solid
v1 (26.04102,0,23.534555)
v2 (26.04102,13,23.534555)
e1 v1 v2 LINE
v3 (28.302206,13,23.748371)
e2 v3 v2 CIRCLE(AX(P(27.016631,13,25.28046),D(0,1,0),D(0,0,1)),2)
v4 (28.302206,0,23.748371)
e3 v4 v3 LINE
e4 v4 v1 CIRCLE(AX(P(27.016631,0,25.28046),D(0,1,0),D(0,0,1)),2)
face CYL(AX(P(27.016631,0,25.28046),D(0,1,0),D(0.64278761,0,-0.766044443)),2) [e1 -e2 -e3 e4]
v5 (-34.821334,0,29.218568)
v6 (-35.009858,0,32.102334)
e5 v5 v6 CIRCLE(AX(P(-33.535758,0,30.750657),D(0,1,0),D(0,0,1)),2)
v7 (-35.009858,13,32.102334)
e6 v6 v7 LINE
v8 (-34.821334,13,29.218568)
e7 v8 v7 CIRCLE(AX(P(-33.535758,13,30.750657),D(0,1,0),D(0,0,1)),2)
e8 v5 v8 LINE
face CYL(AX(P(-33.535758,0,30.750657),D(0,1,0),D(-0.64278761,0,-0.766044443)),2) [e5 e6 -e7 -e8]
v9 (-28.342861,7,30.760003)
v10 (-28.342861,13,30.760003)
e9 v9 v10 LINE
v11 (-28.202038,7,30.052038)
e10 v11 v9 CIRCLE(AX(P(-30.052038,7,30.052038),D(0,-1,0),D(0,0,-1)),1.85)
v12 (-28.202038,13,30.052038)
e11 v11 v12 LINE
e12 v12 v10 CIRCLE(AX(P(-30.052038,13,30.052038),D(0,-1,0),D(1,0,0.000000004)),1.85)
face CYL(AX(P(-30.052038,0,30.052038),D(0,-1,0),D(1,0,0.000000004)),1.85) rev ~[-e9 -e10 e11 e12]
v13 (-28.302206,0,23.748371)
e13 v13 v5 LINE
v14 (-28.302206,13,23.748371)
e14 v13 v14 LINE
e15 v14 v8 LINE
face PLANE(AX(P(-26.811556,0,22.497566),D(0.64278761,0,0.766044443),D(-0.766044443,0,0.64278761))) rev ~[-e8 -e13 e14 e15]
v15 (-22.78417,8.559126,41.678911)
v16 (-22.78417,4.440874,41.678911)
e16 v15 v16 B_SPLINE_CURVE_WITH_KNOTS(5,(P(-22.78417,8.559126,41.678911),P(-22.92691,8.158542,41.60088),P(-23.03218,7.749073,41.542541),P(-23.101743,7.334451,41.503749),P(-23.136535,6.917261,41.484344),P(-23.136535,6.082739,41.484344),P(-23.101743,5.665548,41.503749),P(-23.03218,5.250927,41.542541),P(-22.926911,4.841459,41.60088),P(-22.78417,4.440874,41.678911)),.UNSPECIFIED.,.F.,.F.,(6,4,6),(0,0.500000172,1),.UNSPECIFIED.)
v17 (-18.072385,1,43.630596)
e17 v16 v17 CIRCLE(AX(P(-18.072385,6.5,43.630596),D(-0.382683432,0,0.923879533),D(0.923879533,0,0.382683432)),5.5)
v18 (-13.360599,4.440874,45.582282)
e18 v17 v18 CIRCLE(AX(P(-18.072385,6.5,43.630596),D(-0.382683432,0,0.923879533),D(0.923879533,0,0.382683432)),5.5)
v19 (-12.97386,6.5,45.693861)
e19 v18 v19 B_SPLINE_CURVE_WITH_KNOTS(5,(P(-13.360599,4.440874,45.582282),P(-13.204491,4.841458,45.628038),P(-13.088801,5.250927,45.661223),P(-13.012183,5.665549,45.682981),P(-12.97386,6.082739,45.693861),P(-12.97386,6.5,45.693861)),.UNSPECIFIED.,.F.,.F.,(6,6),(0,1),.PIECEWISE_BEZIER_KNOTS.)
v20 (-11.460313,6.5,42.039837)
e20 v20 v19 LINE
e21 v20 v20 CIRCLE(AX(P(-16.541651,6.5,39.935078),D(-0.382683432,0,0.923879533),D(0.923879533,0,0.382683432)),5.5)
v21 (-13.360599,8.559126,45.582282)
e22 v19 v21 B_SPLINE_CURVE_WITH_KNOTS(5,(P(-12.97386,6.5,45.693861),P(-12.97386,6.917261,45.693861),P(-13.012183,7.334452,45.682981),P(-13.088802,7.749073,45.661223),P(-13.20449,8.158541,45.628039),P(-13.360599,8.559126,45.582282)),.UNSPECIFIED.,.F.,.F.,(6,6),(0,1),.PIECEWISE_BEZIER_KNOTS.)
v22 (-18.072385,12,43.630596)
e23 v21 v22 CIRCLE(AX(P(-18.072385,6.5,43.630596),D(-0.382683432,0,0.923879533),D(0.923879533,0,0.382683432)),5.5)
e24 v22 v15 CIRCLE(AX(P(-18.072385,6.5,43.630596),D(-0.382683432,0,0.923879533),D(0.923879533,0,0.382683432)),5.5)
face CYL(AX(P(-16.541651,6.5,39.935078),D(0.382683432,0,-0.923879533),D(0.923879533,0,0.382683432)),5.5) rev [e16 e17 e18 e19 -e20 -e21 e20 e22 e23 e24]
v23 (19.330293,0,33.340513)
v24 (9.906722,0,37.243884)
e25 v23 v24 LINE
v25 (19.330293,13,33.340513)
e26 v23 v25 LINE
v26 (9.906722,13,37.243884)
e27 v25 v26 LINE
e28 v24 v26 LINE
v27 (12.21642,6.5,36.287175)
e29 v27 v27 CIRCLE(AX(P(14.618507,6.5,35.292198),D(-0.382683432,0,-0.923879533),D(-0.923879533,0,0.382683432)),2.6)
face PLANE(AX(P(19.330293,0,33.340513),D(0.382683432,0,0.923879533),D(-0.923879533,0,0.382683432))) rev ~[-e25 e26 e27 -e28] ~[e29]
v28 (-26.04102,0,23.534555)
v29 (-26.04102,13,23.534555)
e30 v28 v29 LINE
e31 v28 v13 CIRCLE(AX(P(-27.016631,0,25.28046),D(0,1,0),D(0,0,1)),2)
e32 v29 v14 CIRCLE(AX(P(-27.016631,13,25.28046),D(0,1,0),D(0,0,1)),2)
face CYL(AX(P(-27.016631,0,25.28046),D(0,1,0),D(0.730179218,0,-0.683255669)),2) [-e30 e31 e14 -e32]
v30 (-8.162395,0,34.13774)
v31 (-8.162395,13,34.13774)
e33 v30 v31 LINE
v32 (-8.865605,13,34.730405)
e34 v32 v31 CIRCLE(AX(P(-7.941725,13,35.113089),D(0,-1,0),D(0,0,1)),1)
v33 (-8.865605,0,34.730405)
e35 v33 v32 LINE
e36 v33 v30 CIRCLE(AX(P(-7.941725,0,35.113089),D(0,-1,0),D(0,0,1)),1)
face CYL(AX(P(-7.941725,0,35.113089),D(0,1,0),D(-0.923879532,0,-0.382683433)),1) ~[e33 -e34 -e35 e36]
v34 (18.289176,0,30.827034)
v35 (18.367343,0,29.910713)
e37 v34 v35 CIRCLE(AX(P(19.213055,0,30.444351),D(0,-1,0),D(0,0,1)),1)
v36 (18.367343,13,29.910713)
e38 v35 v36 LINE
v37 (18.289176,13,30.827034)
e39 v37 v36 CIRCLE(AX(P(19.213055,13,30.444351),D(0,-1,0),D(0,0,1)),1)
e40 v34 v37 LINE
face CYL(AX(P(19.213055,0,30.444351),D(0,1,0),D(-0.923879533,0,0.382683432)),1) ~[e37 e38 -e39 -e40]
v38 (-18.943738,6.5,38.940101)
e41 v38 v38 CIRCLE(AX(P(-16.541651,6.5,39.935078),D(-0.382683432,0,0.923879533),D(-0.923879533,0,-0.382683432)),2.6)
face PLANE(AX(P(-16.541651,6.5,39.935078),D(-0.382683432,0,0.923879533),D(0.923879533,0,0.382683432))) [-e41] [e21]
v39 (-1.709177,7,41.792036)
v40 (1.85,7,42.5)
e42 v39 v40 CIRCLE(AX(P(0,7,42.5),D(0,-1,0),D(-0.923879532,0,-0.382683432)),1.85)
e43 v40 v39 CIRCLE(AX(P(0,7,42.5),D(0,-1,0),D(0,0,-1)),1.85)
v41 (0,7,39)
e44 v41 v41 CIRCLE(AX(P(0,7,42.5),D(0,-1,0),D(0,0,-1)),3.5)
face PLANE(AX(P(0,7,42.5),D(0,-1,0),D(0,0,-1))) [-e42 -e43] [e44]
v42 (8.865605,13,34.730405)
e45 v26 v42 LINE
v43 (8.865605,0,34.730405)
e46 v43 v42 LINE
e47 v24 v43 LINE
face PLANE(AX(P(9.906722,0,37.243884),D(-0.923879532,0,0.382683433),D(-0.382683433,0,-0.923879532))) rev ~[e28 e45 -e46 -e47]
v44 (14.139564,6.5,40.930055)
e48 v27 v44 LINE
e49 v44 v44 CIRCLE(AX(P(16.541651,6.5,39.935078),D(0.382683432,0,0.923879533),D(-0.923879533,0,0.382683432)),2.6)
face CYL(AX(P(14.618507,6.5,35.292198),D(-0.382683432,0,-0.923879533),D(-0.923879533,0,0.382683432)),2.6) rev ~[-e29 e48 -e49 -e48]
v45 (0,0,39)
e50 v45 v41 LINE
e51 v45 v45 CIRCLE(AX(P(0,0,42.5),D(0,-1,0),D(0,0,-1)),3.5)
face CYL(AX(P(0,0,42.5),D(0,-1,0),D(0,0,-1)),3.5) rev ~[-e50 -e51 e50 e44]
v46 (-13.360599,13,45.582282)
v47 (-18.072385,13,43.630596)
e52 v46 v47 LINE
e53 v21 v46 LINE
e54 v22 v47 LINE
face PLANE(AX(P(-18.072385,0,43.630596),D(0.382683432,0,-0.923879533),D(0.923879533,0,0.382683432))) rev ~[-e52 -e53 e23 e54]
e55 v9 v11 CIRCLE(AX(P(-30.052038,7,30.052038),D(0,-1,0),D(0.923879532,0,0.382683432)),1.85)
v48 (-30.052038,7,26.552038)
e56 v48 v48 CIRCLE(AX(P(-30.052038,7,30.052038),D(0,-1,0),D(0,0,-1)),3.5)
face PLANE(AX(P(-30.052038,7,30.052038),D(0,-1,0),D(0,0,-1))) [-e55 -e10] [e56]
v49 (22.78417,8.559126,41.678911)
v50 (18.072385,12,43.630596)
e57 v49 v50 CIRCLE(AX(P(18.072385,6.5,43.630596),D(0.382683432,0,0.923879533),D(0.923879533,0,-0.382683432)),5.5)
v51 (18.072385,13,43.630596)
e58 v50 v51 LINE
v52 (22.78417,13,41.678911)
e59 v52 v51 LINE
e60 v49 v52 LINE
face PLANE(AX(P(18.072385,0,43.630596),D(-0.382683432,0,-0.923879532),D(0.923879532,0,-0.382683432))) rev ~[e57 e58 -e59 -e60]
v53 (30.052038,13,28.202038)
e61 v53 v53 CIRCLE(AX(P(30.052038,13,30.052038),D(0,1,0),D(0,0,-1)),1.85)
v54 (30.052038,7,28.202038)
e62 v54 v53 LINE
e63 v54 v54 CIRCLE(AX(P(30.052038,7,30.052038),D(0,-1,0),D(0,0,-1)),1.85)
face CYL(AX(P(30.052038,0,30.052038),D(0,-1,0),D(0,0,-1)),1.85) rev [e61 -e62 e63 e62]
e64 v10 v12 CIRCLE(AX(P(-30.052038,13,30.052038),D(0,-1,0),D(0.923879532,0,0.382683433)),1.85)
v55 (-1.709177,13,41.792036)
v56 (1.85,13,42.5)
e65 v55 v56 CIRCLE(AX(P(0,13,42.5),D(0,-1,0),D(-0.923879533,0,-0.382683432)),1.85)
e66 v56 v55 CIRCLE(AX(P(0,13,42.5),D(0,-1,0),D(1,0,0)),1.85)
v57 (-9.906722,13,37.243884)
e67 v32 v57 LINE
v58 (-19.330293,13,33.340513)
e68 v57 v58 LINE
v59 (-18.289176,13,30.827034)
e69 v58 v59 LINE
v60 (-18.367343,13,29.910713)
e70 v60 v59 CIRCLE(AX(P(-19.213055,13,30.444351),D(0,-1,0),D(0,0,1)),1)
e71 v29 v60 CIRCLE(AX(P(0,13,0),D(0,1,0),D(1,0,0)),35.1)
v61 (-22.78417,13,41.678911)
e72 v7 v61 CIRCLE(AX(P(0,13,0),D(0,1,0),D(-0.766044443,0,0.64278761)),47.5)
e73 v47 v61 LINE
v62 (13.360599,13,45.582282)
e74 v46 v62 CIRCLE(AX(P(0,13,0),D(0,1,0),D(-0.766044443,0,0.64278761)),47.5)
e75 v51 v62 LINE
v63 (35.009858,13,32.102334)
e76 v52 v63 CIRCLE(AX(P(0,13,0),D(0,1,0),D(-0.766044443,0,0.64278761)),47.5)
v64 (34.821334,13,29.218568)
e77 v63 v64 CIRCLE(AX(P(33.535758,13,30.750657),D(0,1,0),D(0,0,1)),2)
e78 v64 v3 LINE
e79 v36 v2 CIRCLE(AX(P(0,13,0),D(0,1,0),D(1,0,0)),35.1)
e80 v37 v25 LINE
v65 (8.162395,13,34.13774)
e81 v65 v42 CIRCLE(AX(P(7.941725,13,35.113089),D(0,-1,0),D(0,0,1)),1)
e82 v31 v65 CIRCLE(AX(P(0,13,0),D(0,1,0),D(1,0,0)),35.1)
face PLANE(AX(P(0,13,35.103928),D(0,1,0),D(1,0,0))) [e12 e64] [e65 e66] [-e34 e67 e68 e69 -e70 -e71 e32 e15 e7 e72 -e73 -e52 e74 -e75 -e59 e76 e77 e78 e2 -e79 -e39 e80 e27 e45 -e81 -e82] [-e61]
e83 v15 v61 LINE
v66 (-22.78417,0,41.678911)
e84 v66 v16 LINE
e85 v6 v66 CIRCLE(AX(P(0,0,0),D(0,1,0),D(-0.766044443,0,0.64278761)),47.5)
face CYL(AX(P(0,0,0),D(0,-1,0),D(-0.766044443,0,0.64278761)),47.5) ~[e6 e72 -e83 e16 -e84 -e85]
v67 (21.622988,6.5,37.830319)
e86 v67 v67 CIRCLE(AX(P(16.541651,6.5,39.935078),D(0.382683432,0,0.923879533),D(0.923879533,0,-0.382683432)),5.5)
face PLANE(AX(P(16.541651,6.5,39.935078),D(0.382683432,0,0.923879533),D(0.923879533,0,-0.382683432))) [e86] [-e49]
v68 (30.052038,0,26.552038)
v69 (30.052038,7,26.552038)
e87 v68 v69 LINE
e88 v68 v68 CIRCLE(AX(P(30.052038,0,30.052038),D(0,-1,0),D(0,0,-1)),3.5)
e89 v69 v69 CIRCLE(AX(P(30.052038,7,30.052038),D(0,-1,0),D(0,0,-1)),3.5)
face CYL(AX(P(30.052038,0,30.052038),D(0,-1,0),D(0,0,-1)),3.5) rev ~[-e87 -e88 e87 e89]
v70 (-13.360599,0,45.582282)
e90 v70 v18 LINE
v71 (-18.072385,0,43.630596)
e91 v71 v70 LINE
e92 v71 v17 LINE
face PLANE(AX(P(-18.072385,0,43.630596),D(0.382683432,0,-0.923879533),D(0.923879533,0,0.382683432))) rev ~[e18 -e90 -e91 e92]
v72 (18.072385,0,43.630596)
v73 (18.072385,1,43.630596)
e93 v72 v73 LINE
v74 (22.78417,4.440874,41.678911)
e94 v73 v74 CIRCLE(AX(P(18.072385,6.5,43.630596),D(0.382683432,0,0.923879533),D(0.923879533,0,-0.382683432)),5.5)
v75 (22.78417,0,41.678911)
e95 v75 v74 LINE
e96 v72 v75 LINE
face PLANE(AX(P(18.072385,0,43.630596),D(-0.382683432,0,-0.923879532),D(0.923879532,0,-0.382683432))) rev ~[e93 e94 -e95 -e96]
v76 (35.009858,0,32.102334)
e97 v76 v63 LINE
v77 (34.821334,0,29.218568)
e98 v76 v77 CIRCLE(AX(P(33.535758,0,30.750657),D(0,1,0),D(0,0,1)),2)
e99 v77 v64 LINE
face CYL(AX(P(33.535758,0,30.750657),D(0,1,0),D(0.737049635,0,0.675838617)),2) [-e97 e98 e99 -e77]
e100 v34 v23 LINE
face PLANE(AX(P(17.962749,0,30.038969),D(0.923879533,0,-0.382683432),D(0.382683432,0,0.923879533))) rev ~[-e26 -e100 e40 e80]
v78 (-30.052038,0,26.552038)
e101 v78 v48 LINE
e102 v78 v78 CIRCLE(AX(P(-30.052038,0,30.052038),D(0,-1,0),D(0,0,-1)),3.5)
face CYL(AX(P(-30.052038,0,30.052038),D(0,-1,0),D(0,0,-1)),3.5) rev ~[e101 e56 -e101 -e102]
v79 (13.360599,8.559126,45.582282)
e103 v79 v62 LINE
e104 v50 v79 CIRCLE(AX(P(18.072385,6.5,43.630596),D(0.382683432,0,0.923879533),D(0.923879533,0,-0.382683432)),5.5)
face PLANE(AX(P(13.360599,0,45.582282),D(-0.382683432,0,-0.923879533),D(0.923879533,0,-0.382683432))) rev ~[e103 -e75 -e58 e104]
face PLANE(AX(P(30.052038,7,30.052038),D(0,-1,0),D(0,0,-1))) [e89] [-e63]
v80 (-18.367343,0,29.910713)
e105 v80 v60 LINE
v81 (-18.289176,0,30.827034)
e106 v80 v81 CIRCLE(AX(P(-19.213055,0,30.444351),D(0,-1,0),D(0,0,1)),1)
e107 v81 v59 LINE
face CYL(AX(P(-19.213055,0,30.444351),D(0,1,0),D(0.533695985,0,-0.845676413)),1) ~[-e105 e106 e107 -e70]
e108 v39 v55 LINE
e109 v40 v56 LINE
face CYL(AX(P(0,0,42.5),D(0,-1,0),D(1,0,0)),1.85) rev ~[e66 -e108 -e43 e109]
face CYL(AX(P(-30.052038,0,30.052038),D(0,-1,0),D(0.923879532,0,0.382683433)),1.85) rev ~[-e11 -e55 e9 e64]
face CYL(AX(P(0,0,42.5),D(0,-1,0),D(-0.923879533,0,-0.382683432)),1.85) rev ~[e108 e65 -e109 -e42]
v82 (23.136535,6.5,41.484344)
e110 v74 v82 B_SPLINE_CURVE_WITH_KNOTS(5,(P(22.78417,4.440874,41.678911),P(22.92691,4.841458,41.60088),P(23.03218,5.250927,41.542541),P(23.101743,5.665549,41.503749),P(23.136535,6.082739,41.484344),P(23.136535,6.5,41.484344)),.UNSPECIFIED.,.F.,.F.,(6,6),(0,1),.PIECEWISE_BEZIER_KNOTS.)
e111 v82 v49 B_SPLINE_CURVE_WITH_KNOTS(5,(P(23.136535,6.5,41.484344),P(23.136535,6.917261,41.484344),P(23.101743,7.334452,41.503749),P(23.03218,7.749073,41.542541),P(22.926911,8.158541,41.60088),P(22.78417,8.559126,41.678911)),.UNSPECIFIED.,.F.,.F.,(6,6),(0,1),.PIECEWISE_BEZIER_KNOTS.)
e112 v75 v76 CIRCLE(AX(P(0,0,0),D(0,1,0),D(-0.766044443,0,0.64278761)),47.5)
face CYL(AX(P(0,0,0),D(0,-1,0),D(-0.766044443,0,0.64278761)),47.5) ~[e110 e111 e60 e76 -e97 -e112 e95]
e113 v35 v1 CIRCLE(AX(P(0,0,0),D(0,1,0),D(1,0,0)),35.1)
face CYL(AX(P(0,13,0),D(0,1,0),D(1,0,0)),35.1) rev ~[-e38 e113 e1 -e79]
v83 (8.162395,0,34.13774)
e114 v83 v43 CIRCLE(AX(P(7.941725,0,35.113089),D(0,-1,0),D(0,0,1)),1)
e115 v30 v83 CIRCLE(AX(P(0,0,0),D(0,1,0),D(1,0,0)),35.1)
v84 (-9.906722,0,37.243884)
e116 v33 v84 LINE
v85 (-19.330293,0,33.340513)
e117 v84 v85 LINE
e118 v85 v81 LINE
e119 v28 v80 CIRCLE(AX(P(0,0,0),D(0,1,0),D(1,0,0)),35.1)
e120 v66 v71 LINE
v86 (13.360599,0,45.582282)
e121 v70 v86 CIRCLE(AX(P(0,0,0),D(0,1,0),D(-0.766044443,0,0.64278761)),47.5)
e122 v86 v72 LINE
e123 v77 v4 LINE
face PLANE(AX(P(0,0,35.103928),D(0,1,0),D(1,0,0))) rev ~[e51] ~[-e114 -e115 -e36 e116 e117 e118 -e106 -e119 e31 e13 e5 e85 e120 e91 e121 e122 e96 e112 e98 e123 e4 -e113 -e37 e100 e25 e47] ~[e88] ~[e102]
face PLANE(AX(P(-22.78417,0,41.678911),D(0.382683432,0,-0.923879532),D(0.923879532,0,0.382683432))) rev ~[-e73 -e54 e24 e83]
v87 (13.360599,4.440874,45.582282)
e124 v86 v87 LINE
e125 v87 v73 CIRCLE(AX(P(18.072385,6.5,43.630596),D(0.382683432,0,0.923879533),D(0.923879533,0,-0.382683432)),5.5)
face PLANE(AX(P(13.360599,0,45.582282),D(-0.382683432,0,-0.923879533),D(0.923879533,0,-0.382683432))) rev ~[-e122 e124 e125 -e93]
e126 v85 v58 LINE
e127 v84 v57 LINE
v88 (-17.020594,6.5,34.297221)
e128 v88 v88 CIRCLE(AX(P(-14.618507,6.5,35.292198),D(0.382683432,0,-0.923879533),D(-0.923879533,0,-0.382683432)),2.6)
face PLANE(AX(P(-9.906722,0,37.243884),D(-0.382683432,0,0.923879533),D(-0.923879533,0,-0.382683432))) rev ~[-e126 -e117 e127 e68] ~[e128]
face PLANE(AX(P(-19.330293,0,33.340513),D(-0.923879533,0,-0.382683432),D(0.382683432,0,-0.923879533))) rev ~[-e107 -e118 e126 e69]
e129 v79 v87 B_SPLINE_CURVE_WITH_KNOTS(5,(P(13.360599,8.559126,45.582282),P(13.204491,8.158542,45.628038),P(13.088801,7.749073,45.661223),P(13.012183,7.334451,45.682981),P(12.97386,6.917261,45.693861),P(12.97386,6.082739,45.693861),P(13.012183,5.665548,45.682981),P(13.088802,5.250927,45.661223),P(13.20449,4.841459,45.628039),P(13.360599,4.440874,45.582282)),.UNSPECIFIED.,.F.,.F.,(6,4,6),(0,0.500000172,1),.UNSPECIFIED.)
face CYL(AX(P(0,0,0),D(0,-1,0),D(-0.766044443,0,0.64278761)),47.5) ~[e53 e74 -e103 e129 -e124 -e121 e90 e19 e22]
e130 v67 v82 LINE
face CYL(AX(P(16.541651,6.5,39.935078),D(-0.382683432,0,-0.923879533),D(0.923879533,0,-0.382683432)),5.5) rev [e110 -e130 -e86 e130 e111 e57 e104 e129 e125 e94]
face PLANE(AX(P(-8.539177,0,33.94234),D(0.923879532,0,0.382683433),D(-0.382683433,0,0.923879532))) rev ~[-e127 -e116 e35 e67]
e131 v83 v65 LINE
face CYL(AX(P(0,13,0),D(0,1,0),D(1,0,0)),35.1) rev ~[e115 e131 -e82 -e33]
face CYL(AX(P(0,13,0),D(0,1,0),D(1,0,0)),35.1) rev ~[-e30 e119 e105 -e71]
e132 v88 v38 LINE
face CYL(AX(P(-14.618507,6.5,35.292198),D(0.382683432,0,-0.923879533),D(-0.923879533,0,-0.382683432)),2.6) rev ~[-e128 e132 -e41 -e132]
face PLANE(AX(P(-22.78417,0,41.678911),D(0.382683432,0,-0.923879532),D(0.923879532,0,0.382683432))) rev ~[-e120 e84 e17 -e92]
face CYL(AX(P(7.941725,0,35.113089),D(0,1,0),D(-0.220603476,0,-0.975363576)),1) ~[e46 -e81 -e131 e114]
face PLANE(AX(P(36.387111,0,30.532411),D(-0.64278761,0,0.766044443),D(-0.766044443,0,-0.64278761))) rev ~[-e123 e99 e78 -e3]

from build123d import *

# Parameters (mm, degrees)
SKETCH_1_R          = 1.85
EXTRUDE_1_DEPTH     = 13
SKETCH_2_R          = 2.6
CUT_EXTRUDE_1_DEPTH = 10
SKETCH_3_R          = 2.6
CUT_EXTRUDE_2_DEPTH = 10
FILLET_1_R          = 2
FILLET_2_R          = 1
SKETCH_4_R          = 3.5
SKETCH_4_R_2        = 1.85
CUT_EXTRUDE_3_DEPTH = 7
CUT_EXTRUDE_5_DEPTH = 61.729236251
CUT_EXTRUDE_START   = -4
SKETCH_6_R          = 5.5
SKETCH_6_R_2        = 2.6
CUT_EXTRUDE_6_DEPTH = 4
SKETCH_7_R          = 5.5
SKETCH_7_R_2        = 2.6
CUT_EXTRUDE_7_DEPTH = 4
SKETCH_8_R          = 35.1
CUT_EXTRUDE_8_DEPTH = 61.729236251


with BuildPart() as part:
    # 草图1 → 凸台-拉伸1 (new body)
    with BuildSketch(Plane(origin=(0, 0, 0), x_dir=(1, 0, 0), z_dir=(0, 1, 0))):
        with BuildLine():
            ThreePointArc((-17.962748608, -30.038969064), (-22.702483698, -26.638266346), (-26.811555509, -22.497566339))
            Line((-26.811555509, -22.497566339), (-36.387111048, -30.53241146))
            ThreePointArc((-36.387111048, -30.53241146), (0, -47.5), (36.387111048, -30.53241146))
            Line((36.387111048, -30.53241146), (26.811555509, -22.497566339))
            ThreePointArc((26.811555509, -22.497566339), (22.702483698, -26.638266346), (17.962748608, -30.038969064))
            Line((17.962748608, -30.038969064), (19.330292732, -33.340512637))
            Line((19.330292732, -33.340512637), (9.906721501, -37.243883647))
            Line((9.906721501, -37.243883647), (8.539177376, -33.942340075))
            ThreePointArc((8.539177376, -33.942340075), (0, -35), (-8.539177376, -33.942340075))
            Line((-8.539177376, -33.942340075), (-9.906721501, -37.243883647))
            Line((-9.906721501, -37.243883647), (-19.330292732, -33.340512637))
            Line((-19.330292732, -33.340512637), (-17.962748608, -30.038969064))
        make_face()
        with BuildLine():
            ThreePointArc((-28.2020382, -30.0520382), (-28.237585432, -30.412955296), (-28.342861065, -30.76000255))
            ThreePointArc((-28.342861065, -30.76000255), (-31.866490969, -29.691121105), (-28.2020382, -30.0520382))
        make_face(mode=Mode.SUBTRACT)
        with BuildLine():
            ThreePointArc((1.85, -42.5), (-0.360917096, -44.314452769), (-1.709177135, -41.79203565))
            ThreePointArc((-1.709177135, -41.79203565), (0.360917096, -40.685547231), (1.85, -42.5))
        make_face(mode=Mode.SUBTRACT)
        with Locations(Location((30.0520382, -30.0520382, 0), (0, 0, 90))):
            Circle(SKETCH_1_R, mode=Mode.SUBTRACT)
    extrude(amount=EXTRUDE_1_DEPTH)

    # 草图2 → 切除-拉伸1 (cut)
    with BuildSketch(Plane(origin=(-14.618507116, 0, 35.292198142), x_dir=(-0.9238795325112864, 0, -0.38268343236509067), z_dir=(0.38268343236509067, 0, -0.9238795325112864))):
        with Locations((0, 6.5)):
            Circle(SKETCH_2_R)
    extrude(amount=-CUT_EXTRUDE_1_DEPTH, mode=Mode.SUBTRACT)

    # 草图3 → 切除-拉伸2 (cut)
    with BuildSketch(Plane(origin=(14.618507116, 0, 35.292198142), x_dir=(-0.9238795325112864, 0, 0.38268343236509067), z_dir=(-0.38268343236509067, 0, -0.9238795325112864))):
        with Locations((0, 6.5)):
            Circle(SKETCH_3_R)
    extrude(amount=-CUT_EXTRUDE_2_DEPTH, mode=Mode.SUBTRACT)

    # 圆角1
    fillet_1_edges = [part.edges().sort_by_distance(p)[0] for p in [
        (-26.811555509, 6.5, 22.497566339),
        (26.811555509, 6.5, 22.497566339),
        (36.387111048, 6.5, 30.53241146),
        (-36.387111048, 6.5, 30.53241146),
    ]]
    fillet(fillet_1_edges, radius=FILLET_1_R)

    # 圆角2
    fillet_2_edges = [part.edges().sort_by_distance(p)[0] for p in [
        (-17.962748608, 6.5, 30.038969064),
        (-8.539177376, 6.5, 33.942340075),
        (8.539177376, 6.5, 33.942340075),
        (17.962748608, 6.5, 30.038969064),
    ]]
    fillet(fillet_2_edges, radius=FILLET_2_R)

    # 草图4 → 切除-拉伸3 (cut)
    # profile 1 of 3: a face of its own
    with BuildSketch(Plane.XZ):
        with Locations(Location((-30.0520382, 30.0520382, 0), (0, 0, 270))):
            Circle(SKETCH_4_R)
        with Locations(Location((-30.0520382, 30.0520382, 0), (0, 0, 270))):
            Circle(SKETCH_4_R_2, mode=Mode.SUBTRACT)
    # profile 2 of 3: a face of its own
    with BuildSketch(Plane.XZ):
        with Locations(Location((0, 42.5, 0), (0, 0, 270))):
            Circle(SKETCH_4_R)
        with Locations(Location((0, 42.5, 0), (0, 0, 270))):
            Circle(SKETCH_4_R_2, mode=Mode.SUBTRACT)
    # profile 3 of 3: a face of its own
    with BuildSketch(Plane.XZ):
        with Locations(Location((30.0520382, 30.0520382, 0), (0, 0, 270))):
            Circle(SKETCH_4_R)
        with Locations(Location((30.0520382, 30.0520382, 0), (0, 0, 270))):
            Circle(SKETCH_4_R_2, mode=Mode.SUBTRACT)
    extrude(amount=-CUT_EXTRUDE_3_DEPTH, mode=Mode.SUBTRACT)

    # 草图5 → 切除-拉伸5 (cut, through all)
    with BuildSketch(Plane.XZ):
        with BuildLine():
            Line((-22.784170244, 41.67891057), (-18.072384629, 43.630596075))
            Line((-18.072384629, 43.630596075), (-18.177463037, 43.884277794))
            ThreePointArc((-18.177463037, 43.884277794), (-20.510479308, 42.843555391), (-22.784170244, 41.67891057))
        make_face()
        with BuildLine():
            Line((-18.177463037, 43.884277794), (-18.072384629, 43.630596075))
            Line((-18.072384629, 43.630596075), (-13.360599013, 45.58228158))
            ThreePointArc((-13.360599013, 45.58228158), (-15.791869544, 44.798067551), (-18.177463037, 43.884277794))
        make_face()
        with BuildLine():
            ThreePointArc((18.177463037, 43.884277794), (15.791869544, 44.798067551), (13.360599013, 45.58228158))
            Line((13.360599013, 45.58228158), (18.072384629, 43.630596075))
            Line((18.072384629, 43.630596075), (18.177463037, 43.884277794))
        make_face()
        with BuildLine():
            Line((18.177463037, 43.884277794), (18.072384629, 43.630596075))
            Line((18.072384629, 43.630596075), (22.784170244, 41.67891057))
            ThreePointArc((22.784170244, 41.67891057), (20.510479308, 42.843555391), (18.177463037, 43.884277794))
        make_face()
    extrude(amount=-CUT_EXTRUDE_5_DEPTH, mode=Mode.SUBTRACT)

    # 草图6 → 切除-拉伸6 (cut)
    with BuildSketch(Plane(origin=(-18.072384629, 0, 43.630596075), x_dir=(0.9238795325112865, 0, 0.38268343236509045), z_dir=(-0.38268343236509045, 0, 0.9238795325112865)).offset(CUT_EXTRUDE_START)):
        with Locations((0, 6.5)):
            Circle(SKETCH_6_R)
        with Locations(Location((0, 6.5, 0), (0, 0, 180))):
            Circle(SKETCH_6_R_2, mode=Mode.SUBTRACT)
    extrude(amount=CUT_EXTRUDE_6_DEPTH, mode=Mode.SUBTRACT)

    # 草图7 → 切除-拉伸7 (cut)
    with BuildSketch(Plane(origin=(18.072384629, 0, 43.630596075), x_dir=(0.9238795325112865, 0, -0.38268343236509045), z_dir=(0.38268343236509045, 0, 0.9238795325112865)).offset(CUT_EXTRUDE_START)):
        with Locations((0, 6.5)):
            Circle(SKETCH_7_R)
        with Locations(Location((0, 6.5, 0), (0, 0, 180))):
            Circle(SKETCH_7_R_2, mode=Mode.SUBTRACT)
    extrude(amount=CUT_EXTRUDE_7_DEPTH, mode=Mode.SUBTRACT)

    # 草图8 → 切除-拉伸8 (cut, through all)
    with BuildSketch(Plane(origin=(0, 13, 0), x_dir=(1, 0, 0), z_dir=(0, 1, 0))):
        Circle(SKETCH_8_R)
    extrude(amount=-CUT_EXTRUDE_8_DEPTH, mode=Mode.SUBTRACT)


solid = part.part
